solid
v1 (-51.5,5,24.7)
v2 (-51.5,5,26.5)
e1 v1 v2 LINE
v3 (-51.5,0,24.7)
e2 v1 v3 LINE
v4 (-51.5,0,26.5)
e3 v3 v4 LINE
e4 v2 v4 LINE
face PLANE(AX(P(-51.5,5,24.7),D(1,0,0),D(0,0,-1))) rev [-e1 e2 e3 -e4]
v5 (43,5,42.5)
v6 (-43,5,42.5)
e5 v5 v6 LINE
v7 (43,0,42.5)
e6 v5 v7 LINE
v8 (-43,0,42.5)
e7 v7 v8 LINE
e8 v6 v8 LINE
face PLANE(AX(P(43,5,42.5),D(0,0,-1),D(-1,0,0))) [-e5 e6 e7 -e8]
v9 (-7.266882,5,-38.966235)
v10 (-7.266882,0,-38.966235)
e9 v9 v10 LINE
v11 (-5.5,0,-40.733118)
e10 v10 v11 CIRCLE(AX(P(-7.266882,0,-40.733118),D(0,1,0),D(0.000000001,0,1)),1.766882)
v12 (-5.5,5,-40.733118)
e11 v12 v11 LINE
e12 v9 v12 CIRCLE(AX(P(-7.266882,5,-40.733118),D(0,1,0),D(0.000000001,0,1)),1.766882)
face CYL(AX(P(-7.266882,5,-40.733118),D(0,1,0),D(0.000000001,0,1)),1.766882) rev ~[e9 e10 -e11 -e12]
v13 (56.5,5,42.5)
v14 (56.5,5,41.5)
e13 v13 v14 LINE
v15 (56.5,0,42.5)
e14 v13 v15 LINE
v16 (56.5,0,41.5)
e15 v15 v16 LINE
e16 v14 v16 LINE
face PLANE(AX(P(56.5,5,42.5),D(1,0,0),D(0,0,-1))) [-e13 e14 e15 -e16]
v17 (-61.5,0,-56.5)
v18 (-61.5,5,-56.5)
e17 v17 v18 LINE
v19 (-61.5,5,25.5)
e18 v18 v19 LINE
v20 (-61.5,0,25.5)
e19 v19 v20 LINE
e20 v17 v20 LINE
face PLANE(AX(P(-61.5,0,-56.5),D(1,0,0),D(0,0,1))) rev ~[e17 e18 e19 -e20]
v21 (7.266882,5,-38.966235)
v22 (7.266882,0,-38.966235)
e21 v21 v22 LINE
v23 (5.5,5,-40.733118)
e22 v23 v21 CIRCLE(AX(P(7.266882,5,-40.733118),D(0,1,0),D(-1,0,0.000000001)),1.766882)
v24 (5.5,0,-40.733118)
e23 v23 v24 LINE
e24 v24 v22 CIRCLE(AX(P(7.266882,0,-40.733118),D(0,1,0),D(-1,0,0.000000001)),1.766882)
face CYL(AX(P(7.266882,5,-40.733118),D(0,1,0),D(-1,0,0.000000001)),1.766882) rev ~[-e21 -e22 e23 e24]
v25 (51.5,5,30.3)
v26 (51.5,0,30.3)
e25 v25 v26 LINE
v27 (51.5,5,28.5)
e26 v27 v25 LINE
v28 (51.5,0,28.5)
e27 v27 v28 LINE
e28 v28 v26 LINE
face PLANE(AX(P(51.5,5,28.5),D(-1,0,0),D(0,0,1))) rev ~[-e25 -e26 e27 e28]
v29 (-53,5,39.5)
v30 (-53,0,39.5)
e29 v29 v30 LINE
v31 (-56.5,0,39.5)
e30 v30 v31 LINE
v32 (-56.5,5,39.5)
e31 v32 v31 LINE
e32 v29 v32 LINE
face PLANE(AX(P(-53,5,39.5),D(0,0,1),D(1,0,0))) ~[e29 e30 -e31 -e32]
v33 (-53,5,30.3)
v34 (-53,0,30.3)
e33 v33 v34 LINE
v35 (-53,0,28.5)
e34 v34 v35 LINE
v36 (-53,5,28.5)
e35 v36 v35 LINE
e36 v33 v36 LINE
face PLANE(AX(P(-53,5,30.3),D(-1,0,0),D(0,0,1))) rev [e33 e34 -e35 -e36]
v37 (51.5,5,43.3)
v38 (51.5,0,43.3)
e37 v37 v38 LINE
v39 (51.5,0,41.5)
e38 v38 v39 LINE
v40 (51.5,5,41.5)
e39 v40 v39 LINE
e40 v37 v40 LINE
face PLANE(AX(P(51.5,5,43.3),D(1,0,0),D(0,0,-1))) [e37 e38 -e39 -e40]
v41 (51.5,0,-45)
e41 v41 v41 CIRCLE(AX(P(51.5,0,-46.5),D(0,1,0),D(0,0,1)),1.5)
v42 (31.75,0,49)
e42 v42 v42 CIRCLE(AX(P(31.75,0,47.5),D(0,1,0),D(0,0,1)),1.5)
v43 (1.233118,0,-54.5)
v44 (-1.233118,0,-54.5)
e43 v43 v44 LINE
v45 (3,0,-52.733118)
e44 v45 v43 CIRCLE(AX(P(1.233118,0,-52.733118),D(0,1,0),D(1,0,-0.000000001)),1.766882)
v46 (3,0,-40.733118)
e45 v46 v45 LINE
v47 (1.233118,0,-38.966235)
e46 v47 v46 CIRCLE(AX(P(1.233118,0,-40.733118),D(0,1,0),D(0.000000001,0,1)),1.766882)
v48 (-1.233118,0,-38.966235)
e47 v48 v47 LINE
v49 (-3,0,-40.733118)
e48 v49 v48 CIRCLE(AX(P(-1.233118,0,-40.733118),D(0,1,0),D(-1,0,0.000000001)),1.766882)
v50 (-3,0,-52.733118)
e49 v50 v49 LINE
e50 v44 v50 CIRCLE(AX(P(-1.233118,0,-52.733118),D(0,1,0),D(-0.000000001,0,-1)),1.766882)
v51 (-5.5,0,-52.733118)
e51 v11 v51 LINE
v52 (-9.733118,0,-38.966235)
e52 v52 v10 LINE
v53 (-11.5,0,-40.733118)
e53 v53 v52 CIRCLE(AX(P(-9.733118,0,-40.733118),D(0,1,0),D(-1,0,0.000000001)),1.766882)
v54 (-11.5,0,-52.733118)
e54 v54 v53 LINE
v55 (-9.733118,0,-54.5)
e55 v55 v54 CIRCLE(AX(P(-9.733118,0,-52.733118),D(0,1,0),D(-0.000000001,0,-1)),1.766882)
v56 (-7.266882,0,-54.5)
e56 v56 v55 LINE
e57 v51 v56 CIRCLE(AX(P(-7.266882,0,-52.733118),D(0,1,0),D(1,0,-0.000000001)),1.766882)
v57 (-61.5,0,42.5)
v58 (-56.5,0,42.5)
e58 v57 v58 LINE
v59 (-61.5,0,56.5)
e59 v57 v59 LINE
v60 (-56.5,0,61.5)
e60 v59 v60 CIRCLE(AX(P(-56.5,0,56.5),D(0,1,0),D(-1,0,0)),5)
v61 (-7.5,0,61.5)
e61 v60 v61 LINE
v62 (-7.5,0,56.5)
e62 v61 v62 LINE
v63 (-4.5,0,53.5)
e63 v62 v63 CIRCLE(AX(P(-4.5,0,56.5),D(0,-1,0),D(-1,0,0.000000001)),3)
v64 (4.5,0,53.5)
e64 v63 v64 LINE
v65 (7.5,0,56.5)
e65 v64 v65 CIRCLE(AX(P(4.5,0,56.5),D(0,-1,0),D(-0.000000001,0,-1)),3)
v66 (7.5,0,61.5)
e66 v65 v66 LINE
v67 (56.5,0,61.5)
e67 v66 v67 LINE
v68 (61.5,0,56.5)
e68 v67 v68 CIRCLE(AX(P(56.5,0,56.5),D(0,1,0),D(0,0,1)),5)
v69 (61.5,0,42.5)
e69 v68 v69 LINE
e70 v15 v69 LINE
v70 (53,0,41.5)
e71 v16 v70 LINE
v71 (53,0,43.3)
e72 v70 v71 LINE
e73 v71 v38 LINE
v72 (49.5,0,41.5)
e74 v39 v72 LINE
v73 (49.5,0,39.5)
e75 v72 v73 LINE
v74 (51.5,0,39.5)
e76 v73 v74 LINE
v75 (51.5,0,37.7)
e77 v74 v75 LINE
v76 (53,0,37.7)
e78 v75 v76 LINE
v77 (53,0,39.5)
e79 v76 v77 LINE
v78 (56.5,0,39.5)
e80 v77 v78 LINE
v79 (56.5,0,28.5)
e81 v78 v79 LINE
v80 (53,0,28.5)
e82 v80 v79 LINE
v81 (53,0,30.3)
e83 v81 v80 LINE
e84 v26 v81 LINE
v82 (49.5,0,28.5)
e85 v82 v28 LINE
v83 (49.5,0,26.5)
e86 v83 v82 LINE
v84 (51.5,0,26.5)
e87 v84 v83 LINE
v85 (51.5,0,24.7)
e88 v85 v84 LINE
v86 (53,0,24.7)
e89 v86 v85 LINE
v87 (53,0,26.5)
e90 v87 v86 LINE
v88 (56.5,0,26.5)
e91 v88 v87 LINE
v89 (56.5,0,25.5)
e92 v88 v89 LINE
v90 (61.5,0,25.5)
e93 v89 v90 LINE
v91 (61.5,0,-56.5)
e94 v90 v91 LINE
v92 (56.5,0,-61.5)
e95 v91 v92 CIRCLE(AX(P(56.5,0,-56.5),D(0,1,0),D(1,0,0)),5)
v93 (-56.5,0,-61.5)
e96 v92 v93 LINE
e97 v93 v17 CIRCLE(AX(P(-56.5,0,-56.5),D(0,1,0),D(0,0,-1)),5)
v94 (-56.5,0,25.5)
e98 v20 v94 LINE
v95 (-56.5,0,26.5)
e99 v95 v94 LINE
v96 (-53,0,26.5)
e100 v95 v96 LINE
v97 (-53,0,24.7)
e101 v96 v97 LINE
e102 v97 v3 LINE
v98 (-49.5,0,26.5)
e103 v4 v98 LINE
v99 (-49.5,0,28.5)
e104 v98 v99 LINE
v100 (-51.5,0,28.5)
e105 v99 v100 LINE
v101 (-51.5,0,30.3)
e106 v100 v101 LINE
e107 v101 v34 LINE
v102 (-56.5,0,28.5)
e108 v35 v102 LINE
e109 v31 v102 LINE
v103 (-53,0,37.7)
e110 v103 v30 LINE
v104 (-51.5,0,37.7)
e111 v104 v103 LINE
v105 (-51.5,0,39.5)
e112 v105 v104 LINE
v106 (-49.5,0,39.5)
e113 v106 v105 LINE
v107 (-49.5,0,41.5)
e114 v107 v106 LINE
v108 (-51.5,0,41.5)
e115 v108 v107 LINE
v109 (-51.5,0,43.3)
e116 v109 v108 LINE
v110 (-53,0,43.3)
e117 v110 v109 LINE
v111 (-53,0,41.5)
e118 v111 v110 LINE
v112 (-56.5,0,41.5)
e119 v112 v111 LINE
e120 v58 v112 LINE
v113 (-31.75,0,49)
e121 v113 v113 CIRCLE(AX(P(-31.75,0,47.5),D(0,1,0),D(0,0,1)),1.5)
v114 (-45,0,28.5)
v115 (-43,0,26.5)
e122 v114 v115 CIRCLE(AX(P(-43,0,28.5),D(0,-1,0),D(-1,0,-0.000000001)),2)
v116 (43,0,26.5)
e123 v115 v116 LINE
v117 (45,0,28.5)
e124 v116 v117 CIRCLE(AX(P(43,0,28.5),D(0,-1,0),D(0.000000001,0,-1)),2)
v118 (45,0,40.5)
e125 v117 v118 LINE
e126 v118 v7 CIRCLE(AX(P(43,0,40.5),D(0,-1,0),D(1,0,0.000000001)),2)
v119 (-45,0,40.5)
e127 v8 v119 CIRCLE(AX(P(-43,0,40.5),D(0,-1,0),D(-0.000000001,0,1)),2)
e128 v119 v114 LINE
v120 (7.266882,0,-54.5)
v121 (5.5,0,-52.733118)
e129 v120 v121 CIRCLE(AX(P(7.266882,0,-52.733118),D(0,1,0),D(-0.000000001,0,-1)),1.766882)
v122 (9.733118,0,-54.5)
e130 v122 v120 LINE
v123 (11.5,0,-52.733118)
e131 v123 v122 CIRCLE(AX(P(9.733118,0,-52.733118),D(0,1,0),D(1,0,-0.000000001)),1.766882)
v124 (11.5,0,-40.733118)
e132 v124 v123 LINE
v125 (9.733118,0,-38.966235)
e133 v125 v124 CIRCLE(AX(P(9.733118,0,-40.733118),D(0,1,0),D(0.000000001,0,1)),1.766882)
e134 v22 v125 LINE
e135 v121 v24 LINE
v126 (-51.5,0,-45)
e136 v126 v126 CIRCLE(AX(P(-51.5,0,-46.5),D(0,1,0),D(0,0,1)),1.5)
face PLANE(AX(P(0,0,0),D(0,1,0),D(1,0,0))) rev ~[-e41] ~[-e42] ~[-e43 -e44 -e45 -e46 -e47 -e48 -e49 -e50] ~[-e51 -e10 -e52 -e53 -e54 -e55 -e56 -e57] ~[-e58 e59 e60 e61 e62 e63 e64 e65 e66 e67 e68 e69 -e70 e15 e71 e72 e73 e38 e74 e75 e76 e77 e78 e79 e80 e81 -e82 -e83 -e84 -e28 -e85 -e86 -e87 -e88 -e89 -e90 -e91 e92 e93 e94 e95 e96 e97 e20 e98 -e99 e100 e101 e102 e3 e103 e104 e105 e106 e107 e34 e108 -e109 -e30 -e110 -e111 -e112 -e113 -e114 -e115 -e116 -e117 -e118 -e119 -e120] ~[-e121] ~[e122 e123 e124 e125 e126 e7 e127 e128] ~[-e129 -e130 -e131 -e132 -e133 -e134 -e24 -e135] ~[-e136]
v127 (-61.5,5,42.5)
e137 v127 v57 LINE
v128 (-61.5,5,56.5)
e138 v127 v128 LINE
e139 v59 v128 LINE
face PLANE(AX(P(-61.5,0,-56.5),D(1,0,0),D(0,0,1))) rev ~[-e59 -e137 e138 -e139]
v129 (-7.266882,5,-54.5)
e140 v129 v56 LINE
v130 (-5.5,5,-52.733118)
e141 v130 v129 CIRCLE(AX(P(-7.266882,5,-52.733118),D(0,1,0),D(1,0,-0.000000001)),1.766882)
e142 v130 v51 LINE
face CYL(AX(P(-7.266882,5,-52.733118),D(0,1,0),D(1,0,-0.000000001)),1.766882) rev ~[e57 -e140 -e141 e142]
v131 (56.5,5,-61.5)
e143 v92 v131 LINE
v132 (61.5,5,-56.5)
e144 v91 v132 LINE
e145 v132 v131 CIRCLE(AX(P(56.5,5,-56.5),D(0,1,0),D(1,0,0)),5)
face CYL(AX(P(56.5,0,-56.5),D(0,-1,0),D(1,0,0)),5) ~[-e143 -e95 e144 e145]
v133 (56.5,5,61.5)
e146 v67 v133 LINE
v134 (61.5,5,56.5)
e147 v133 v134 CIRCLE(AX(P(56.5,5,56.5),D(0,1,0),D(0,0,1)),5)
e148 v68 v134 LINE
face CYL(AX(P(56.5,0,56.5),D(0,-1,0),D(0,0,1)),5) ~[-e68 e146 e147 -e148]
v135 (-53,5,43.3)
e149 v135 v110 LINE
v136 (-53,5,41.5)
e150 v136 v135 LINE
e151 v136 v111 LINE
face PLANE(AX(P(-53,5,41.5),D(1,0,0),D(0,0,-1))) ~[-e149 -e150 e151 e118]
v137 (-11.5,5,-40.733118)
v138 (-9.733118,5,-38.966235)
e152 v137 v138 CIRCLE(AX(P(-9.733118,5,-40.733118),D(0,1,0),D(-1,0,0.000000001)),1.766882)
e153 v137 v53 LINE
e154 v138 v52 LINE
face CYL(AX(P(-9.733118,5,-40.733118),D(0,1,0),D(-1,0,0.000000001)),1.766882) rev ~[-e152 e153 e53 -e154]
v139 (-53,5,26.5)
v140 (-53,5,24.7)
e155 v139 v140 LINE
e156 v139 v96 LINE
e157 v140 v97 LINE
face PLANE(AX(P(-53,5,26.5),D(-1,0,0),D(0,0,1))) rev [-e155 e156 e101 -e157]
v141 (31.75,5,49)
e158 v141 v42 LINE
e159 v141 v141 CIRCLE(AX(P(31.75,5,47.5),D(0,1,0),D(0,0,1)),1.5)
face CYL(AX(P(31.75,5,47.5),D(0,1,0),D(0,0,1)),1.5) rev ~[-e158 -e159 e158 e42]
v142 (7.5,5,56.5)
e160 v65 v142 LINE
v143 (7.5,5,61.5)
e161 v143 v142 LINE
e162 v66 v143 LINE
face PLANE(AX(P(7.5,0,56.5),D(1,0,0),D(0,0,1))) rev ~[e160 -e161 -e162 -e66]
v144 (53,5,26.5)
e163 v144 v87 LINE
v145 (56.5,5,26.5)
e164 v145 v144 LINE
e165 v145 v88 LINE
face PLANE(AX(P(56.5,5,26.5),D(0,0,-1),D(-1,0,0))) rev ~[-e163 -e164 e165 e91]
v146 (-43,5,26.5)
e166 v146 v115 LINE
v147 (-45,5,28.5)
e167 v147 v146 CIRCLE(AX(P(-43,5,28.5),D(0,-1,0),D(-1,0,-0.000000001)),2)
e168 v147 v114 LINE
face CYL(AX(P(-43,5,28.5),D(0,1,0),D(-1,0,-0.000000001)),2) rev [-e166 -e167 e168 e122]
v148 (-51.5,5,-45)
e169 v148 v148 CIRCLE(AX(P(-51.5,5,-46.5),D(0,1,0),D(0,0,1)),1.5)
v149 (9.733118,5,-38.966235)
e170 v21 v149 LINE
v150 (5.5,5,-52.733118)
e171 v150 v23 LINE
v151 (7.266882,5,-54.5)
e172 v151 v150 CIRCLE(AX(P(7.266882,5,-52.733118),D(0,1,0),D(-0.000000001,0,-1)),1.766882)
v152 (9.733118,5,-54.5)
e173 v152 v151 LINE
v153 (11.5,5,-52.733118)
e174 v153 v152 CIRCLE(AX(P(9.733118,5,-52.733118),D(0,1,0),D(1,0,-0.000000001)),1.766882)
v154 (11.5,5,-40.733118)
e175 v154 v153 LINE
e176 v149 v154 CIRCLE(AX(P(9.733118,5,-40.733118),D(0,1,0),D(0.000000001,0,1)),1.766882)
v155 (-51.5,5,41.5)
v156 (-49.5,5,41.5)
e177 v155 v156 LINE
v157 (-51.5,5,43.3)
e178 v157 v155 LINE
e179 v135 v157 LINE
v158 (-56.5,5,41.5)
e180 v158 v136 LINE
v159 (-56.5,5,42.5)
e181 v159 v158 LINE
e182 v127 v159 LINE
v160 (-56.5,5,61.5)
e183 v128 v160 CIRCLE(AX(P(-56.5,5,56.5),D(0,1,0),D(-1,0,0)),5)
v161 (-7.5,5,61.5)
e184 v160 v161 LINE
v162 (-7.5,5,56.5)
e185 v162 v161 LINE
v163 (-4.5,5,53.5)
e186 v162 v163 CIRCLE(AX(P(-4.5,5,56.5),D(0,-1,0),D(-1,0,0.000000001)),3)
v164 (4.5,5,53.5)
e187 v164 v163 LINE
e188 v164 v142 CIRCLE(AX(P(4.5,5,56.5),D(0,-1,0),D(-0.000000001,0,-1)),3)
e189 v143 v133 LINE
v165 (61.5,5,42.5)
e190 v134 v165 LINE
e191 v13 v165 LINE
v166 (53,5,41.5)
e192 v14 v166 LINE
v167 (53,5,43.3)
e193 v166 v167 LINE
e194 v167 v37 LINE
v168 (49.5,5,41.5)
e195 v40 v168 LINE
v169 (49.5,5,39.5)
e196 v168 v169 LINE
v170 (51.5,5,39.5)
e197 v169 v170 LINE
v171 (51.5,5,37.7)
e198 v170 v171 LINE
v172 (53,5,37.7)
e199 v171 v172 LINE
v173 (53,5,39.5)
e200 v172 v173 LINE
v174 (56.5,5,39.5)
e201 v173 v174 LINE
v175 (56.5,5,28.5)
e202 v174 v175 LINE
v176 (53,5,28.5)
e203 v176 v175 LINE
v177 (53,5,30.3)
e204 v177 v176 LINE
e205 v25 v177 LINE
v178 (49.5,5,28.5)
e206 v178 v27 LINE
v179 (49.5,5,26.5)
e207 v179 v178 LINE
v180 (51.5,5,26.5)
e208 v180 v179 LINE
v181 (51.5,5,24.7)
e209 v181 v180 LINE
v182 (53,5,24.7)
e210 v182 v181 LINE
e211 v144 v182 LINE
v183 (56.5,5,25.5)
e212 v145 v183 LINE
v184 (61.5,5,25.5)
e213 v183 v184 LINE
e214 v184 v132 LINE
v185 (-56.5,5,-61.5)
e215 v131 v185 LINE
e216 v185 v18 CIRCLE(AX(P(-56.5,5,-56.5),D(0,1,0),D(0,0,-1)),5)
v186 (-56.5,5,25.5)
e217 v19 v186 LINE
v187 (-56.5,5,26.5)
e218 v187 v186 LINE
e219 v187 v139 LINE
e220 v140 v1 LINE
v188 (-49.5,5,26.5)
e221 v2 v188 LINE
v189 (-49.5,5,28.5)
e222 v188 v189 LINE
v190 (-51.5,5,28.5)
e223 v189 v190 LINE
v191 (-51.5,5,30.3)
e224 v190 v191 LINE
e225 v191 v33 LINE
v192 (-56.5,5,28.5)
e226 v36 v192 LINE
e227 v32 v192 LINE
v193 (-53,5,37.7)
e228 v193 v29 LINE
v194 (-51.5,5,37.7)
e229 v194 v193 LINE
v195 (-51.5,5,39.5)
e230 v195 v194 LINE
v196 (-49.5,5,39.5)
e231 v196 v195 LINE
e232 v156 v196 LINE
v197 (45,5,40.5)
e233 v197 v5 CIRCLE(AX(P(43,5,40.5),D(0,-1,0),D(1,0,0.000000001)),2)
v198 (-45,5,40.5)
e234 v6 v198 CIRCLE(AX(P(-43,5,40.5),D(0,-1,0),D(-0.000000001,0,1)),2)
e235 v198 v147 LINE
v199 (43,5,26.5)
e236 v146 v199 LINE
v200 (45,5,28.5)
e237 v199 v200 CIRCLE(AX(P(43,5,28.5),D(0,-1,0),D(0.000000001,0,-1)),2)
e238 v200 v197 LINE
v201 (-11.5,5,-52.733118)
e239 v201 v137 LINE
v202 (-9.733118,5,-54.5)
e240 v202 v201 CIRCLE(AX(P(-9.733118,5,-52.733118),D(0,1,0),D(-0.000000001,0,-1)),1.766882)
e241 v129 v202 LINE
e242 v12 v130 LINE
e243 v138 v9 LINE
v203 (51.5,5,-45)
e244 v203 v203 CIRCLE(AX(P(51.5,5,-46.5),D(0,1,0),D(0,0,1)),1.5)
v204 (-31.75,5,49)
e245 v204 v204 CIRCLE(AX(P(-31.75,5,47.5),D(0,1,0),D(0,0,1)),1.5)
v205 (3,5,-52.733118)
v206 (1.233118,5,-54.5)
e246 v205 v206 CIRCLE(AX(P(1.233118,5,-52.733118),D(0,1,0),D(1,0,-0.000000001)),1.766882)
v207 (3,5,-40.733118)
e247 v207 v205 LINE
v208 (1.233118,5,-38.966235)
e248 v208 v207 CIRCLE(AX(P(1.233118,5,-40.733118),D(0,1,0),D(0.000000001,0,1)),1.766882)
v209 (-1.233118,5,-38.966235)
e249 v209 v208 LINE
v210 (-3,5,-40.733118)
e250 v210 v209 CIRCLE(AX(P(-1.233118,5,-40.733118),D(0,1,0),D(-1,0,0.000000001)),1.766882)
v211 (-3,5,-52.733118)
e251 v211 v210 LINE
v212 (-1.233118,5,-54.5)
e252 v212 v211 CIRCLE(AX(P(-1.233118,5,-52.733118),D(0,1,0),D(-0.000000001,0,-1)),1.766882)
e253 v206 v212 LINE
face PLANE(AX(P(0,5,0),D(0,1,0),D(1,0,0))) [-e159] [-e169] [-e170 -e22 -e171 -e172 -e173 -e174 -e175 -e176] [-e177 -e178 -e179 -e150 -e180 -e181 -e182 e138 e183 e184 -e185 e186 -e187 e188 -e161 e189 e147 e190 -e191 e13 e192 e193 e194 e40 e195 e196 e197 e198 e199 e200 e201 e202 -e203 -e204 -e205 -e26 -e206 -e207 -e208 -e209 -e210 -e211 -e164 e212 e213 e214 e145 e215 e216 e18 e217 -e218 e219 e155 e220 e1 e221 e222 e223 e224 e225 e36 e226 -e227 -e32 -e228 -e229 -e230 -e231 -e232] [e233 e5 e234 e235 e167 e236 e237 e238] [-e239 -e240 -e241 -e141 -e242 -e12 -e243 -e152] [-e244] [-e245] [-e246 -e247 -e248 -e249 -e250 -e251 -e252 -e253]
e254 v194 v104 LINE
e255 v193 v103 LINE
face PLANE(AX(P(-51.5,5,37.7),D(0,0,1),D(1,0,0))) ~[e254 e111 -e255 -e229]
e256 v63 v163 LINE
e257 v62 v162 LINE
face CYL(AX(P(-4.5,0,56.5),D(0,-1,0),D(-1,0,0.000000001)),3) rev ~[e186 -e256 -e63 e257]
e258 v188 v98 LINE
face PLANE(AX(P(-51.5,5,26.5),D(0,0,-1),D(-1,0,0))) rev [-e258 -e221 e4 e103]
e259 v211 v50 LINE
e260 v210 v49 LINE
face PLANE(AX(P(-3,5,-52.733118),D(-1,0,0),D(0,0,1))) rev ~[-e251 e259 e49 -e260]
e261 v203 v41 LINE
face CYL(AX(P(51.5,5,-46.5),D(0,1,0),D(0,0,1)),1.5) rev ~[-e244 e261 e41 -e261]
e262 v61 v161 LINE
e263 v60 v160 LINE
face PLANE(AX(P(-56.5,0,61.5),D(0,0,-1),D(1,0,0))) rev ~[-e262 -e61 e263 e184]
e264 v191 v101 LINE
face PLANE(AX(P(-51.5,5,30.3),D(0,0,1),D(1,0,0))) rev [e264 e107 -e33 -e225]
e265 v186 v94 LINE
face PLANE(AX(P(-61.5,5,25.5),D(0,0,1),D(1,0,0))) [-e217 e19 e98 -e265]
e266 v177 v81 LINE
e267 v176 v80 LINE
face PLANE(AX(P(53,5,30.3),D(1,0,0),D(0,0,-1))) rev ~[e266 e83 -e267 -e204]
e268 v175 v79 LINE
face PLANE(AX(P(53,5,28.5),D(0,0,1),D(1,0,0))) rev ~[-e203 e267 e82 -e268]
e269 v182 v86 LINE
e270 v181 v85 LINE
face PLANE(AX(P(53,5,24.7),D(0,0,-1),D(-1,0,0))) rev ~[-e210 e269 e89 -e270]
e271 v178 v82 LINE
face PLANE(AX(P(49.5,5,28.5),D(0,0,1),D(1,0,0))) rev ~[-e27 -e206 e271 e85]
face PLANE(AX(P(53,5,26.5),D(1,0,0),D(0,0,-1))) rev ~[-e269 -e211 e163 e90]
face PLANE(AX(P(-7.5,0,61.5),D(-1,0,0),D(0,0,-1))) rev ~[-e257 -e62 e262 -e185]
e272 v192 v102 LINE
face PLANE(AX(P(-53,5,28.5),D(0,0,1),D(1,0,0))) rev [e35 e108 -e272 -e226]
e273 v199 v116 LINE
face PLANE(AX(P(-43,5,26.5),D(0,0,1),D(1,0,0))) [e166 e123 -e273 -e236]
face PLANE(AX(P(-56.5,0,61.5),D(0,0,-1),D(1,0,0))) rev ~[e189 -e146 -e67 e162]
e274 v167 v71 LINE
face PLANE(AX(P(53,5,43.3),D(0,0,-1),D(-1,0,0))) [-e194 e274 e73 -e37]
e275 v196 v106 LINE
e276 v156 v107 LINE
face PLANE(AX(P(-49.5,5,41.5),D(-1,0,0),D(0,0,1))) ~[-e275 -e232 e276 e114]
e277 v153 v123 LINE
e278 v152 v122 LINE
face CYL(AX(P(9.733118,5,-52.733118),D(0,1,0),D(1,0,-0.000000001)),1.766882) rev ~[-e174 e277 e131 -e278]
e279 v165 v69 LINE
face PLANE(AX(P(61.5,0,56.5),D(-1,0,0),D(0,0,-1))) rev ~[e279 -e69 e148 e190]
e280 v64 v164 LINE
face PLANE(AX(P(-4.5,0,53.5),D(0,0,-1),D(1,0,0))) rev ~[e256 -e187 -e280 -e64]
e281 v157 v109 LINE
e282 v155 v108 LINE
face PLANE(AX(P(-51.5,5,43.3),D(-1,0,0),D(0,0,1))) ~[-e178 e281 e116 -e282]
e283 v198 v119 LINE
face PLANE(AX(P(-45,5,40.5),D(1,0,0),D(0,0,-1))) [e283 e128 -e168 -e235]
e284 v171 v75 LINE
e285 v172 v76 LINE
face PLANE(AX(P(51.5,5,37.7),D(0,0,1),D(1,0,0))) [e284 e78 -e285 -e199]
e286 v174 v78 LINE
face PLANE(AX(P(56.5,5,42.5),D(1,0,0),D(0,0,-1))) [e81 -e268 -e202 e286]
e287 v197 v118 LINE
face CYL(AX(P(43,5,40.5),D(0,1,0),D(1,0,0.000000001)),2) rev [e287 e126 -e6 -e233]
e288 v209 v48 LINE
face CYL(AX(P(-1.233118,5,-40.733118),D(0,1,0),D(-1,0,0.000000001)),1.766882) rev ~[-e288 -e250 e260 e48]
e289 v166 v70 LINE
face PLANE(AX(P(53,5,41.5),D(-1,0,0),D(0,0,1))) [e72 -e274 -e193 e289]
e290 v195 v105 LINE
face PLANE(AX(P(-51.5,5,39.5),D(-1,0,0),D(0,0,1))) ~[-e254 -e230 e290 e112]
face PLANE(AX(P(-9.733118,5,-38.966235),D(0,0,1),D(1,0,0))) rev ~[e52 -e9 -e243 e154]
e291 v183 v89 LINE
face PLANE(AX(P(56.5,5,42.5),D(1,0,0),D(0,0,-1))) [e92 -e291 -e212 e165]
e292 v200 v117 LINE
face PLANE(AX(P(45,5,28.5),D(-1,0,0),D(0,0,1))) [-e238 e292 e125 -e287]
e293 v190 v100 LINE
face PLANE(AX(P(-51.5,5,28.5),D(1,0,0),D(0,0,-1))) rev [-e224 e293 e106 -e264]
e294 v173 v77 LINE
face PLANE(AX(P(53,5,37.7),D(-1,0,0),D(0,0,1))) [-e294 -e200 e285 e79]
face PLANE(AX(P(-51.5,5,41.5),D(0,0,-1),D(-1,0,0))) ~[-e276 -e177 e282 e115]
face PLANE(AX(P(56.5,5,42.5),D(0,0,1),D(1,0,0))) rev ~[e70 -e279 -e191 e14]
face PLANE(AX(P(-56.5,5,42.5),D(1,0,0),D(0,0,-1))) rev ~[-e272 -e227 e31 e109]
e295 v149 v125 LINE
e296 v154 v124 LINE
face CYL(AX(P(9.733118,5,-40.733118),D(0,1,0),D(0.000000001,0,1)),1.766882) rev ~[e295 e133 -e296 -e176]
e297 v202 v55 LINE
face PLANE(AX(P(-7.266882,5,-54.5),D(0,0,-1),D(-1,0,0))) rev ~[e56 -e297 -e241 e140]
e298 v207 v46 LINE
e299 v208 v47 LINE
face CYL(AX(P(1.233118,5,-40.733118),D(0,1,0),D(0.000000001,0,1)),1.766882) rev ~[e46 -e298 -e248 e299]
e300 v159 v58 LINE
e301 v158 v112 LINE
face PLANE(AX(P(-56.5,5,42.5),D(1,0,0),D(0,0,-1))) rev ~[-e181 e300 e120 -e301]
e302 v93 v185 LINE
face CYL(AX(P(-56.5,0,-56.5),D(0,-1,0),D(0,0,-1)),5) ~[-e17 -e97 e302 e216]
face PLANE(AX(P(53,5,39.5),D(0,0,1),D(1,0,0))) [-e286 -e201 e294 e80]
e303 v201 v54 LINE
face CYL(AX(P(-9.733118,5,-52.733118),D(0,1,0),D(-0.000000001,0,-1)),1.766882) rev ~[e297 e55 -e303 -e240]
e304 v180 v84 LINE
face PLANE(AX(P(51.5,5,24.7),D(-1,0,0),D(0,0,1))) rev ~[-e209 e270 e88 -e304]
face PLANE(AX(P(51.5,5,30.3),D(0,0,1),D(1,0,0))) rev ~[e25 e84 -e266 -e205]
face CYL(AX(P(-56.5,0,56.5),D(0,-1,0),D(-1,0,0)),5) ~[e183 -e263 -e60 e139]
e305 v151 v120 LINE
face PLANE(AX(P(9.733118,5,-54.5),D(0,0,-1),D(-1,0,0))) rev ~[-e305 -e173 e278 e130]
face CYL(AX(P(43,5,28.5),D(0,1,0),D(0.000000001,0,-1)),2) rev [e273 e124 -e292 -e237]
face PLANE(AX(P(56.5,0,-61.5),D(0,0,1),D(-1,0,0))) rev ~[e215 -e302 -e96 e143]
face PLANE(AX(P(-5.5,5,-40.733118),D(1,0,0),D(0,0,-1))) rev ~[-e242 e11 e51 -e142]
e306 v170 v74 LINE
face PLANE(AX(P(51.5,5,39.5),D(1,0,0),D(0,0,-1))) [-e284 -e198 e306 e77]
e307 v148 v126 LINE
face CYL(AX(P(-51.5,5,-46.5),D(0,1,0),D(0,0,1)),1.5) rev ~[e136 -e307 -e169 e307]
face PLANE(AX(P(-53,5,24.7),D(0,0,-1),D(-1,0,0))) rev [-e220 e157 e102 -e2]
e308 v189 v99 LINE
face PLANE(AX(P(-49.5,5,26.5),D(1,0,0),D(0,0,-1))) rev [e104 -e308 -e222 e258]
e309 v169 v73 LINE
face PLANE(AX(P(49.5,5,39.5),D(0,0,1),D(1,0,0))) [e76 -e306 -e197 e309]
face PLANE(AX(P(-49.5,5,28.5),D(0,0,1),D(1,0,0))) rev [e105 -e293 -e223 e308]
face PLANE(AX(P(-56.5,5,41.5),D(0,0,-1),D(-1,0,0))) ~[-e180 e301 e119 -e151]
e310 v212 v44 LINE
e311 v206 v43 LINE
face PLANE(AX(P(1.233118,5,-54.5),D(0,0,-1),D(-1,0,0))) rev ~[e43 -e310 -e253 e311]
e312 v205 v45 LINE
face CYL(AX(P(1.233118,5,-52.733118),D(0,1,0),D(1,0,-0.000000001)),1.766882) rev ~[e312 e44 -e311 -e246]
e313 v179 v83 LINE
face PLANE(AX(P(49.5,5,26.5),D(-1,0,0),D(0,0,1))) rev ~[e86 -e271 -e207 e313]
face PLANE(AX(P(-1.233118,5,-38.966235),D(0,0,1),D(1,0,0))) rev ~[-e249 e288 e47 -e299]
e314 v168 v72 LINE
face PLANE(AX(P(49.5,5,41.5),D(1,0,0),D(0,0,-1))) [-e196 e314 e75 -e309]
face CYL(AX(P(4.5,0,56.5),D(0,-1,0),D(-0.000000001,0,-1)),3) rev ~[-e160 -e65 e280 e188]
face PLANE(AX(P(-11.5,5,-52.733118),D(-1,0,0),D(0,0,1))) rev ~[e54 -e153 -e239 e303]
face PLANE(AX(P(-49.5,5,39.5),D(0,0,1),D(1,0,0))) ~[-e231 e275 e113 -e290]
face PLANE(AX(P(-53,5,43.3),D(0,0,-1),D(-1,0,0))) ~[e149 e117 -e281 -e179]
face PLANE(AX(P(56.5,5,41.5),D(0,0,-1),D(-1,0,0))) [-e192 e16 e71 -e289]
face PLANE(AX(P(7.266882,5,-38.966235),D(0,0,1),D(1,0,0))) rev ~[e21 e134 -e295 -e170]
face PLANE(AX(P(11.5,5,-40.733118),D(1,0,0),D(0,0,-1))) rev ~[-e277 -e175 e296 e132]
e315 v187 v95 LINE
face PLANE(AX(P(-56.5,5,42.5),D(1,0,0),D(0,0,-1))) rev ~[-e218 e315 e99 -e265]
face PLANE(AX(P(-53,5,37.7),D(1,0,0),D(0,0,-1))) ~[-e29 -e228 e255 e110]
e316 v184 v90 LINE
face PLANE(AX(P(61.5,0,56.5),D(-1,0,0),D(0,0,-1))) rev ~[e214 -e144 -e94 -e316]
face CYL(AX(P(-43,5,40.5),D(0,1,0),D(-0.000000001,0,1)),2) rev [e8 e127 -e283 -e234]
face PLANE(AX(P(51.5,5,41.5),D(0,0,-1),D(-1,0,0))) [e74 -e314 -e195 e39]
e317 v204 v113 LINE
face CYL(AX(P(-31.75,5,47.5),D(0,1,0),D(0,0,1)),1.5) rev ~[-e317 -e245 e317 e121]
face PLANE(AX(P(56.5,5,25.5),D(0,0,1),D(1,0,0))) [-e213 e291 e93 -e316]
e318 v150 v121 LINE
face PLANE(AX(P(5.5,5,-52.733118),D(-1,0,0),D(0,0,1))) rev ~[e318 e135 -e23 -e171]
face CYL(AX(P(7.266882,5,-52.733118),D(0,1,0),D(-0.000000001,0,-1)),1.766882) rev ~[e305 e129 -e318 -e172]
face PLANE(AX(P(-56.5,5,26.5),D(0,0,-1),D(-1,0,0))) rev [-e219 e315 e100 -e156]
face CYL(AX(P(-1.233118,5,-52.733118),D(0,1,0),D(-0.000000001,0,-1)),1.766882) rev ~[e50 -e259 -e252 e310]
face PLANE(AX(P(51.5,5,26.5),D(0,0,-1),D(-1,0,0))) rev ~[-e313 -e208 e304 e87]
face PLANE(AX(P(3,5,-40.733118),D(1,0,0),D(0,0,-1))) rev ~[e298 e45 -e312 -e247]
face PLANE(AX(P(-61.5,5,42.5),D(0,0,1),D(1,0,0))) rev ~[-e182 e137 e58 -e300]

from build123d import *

# Parameters (mm, degrees)
RESSALTO_EXTRUS_O1_DEPTH = 5
CORTE_EXTRUS_O1_DEPTH    = 5
ESBO_O3_W                = 5
ESBO_O3_H                = 17
CORTE_EXTRUS_O3_DEPTH    = 5
CORTE_EXTRUS_O4_DEPTH    = 10
CORTE_EXTRUS_O5_DEPTH    = 5
ESBO_O6_R                = 1.5
CORTE_EXTRUS_O6_DEPTH    = 20
CORTE_EXTRUS_O7_DEPTH    = 10


with BuildPart() as part:
    # Esboço1 → Ressalto-extrusão1 (new body)
    with BuildSketch(Plane(origin=(0, 0, 0), x_dir=(1, 0, 0), z_dir=(0, 1, 0))):
        with BuildLine():
            Line((-56.5, -61.5), (56.5, -61.5))
            ThreePointArc((56.5, -61.5), (60.035533906, -60.035533906), (61.5, -56.5))
            Line((61.5, -56.5), (61.5, 56.5))
            ThreePointArc((61.5, 56.5), (60.035533906, 60.035533906), (56.5, 61.5))
            Line((56.5, 61.5), (-56.5, 61.5))
            ThreePointArc((-56.5, 61.5), (-60.035533906, 60.035533906), (-61.5, 56.5))
            Line((-61.5, 56.5), (-61.5, -56.5))
            ThreePointArc((-61.5, -56.5), (-60.035533906, -60.035533906), (-56.5, -61.5))
        make_face()
    extrude(amount=RESSALTO_EXTRUS_O1_DEPTH)

    # Esboço2 → Corte-extrusão1 (cut)
    with BuildSketch(Plane(origin=(0, 5, 0), x_dir=(1, 0, 0), z_dir=(0, 1, 0))):
        with BuildLine():
            Line((1.233117681, 54.5), (-1.233117681, 54.5))
            ThreePointArc((-1.233117681, 54.5), (-2.48249215, 53.98249215), (-3, 52.733117681))
            Line((-3, 52.733117681), (-3, 40.733117681))
            ThreePointArc((-3, 40.733117681), (-2.48249215, 39.483743212), (-1.233117681, 38.966235362))
            Line((-1.233117681, 38.966235362), (1.233117681, 38.966235362))
            ThreePointArc((1.233117681, 38.966235362), (2.48249215, 39.483743212), (3, 40.733117681))
            Line((3, 40.733117681), (3, 52.733117681))
            ThreePointArc((3, 52.733117681), (2.48249215, 53.98249215), (1.233117681, 54.5))
        make_face()
        with BuildLine():
            Line((-7.266882319, 54.5), (-9.733117681, 54.5))
            ThreePointArc((-9.733117681, 54.5), (-10.98249215, 53.98249215), (-11.5, 52.733117681))
            Line((-11.5, 52.733117681), (-11.5, 40.733117681))
            ThreePointArc((-11.5, 40.733117681), (-10.98249215, 39.483743212), (-9.733117681, 38.966235362))
            Line((-9.733117681, 38.966235362), (-7.266882319, 38.966235362))
            ThreePointArc((-7.266882319, 38.966235362), (-6.01750785, 39.483743212), (-5.5, 40.733117681))
            Line((-5.5, 40.733117681), (-5.5, 52.733117681))
            ThreePointArc((-5.5, 52.733117681), (-6.01750785, 53.98249215), (-7.266882319, 54.5))
        make_face()
        with BuildLine():
            Line((7.266882319, 38.966235362), (9.733117681, 38.966235362))
            ThreePointArc((9.733117681, 38.966235362), (10.98249215, 39.483743212), (11.5, 40.733117681))
            Line((11.5, 40.733117681), (11.5, 52.733117681))
            ThreePointArc((11.5, 52.733117681), (10.98249215, 53.98249215), (9.733117681, 54.5))
            Line((9.733117681, 54.5), (7.266882319, 54.5))
            ThreePointArc((7.266882319, 54.5), (6.01750785, 53.98249215), (5.5, 52.733117681))
            Line((5.5, 52.733117681), (5.5, 40.733117681))
            ThreePointArc((5.5, 40.733117681), (6.01750785, 39.483743212), (7.266882319, 38.966235362))
        make_face()
    extrude(amount=-CORTE_EXTRUS_O1_DEPTH, mode=Mode.SUBTRACT)

    # Esboço3 → Corte-extrusão3 (cut)
    with BuildSketch(Plane(origin=(0, 5, 0), x_dir=(1, 0, 0), z_dir=(0, 1, 0))):
        with Locations((-59, -34)):
            Rectangle(ESBO_O3_W, ESBO_O3_H)
        with Locations((59, -34)):
            Rectangle(ESBO_O3_W, ESBO_O3_H)
    extrude(amount=-CORTE_EXTRUS_O3_DEPTH, mode=Mode.SUBTRACT)

    # Esboço4 → Corte-extrusão4 (cut)
    with BuildSketch(Plane(origin=(0, 5, 0), x_dir=(1, 0, 0), z_dir=(0, 1, 0))):
        Polygon((56.5, -41.5), (53, -41.5), (53, -43.3), (51.5, -43.3), (51.5, -41.5), (49.5, -41.5), (49.5, -39.5), (51.5, -39.5), (51.5, -37.7), (53, -37.7), (53, -39.5), (56.5, -39.5), align=None)
        Polygon((56.5, -26.5), (53, -26.5), (53, -24.7), (51.5, -24.7), (51.5, -26.5), (49.5, -26.5), (49.5, -28.5), (51.5, -28.5), (51.5, -30.3), (53, -30.3), (53, -28.5), (56.5, -28.5), align=None)
    corte_extrus_o4 = extrude(amount=-CORTE_EXTRUS_O4_DEPTH, mode=Mode.SUBTRACT)

    # Espelhar1: Corte-extrusão4 across plane
    add(corte_extrus_o4.mirror(Plane(origin=(0, 0, 0), x_dir=(0, 0, 1), z_dir=(1, 0, 0))), mode=Mode.SUBTRACT)

    # Esboço5 → Corte-extrusão5 (cut)
    with BuildSketch(Plane(origin=(0, 5, 0), x_dir=(1, 0, 0), z_dir=(0, 1, 0))):
        with BuildLine():
            Line((43, -42.5), (-43, -42.5))
            ThreePointArc((-43, -42.5), (-44.414213562, -41.914213562), (-45, -40.5))
            Line((-45, -40.5), (-45, -28.5))
            ThreePointArc((-45, -28.5), (-44.414213562, -27.085786438), (-43, -26.5))
            Line((-43, -26.5), (43, -26.5))
            ThreePointArc((43, -26.5), (44.414213562, -27.085786438), (45, -28.5))
            Line((45, -28.5), (45, -40.5))
            ThreePointArc((45, -40.5), (44.414213562, -41.914213562), (43, -42.5))
        make_face()
    extrude(amount=-CORTE_EXTRUS_O5_DEPTH, mode=Mode.SUBTRACT)

    # Esboço6 → Corte-extrusão6 (cut)
    with BuildSketch(Plane(origin=(0, 5, 0), x_dir=(1, 0, 0), z_dir=(0, 1, 0))):
        with Locations(Location((-51.5, 46.5, 0), (0, 0, 270))):
            Circle(ESBO_O6_R)
        with Locations(Location((51.5, 46.5, 0), (0, 0, 270))):
            Circle(ESBO_O6_R)
        with Locations(Location((31.75, -47.5, 0), (0, 0, 270))):
            Circle(ESBO_O6_R)
        with Locations(Location((-31.75, -47.5, 0), (0, 0, 270))):
            Circle(ESBO_O6_R)
    extrude(amount=-CORTE_EXTRUS_O6_DEPTH, mode=Mode.SUBTRACT)

    # Esboço7 → Corte-extrusão7 (cut)
    with BuildSketch(Plane.XZ):
        with BuildLine():
            Line((7.5, 61.5), (-7.5, 61.5))
            Line((-7.5, 61.5), (-7.5, 56.5))
            ThreePointArc((-7.5, 56.5), (-6.621320344, 54.378679656), (-4.5, 53.5))
            Line((-4.5, 53.5), (4.5, 53.5))
            ThreePointArc((4.5, 53.5), (6.621320344, 54.378679656), (7.5, 56.5))
            Line((7.5, 56.5), (7.5, 61.5))
        make_face()
    extrude(amount=-CORTE_EXTRUS_O7_DEPTH, mode=Mode.SUBTRACT)


solid = part.part
